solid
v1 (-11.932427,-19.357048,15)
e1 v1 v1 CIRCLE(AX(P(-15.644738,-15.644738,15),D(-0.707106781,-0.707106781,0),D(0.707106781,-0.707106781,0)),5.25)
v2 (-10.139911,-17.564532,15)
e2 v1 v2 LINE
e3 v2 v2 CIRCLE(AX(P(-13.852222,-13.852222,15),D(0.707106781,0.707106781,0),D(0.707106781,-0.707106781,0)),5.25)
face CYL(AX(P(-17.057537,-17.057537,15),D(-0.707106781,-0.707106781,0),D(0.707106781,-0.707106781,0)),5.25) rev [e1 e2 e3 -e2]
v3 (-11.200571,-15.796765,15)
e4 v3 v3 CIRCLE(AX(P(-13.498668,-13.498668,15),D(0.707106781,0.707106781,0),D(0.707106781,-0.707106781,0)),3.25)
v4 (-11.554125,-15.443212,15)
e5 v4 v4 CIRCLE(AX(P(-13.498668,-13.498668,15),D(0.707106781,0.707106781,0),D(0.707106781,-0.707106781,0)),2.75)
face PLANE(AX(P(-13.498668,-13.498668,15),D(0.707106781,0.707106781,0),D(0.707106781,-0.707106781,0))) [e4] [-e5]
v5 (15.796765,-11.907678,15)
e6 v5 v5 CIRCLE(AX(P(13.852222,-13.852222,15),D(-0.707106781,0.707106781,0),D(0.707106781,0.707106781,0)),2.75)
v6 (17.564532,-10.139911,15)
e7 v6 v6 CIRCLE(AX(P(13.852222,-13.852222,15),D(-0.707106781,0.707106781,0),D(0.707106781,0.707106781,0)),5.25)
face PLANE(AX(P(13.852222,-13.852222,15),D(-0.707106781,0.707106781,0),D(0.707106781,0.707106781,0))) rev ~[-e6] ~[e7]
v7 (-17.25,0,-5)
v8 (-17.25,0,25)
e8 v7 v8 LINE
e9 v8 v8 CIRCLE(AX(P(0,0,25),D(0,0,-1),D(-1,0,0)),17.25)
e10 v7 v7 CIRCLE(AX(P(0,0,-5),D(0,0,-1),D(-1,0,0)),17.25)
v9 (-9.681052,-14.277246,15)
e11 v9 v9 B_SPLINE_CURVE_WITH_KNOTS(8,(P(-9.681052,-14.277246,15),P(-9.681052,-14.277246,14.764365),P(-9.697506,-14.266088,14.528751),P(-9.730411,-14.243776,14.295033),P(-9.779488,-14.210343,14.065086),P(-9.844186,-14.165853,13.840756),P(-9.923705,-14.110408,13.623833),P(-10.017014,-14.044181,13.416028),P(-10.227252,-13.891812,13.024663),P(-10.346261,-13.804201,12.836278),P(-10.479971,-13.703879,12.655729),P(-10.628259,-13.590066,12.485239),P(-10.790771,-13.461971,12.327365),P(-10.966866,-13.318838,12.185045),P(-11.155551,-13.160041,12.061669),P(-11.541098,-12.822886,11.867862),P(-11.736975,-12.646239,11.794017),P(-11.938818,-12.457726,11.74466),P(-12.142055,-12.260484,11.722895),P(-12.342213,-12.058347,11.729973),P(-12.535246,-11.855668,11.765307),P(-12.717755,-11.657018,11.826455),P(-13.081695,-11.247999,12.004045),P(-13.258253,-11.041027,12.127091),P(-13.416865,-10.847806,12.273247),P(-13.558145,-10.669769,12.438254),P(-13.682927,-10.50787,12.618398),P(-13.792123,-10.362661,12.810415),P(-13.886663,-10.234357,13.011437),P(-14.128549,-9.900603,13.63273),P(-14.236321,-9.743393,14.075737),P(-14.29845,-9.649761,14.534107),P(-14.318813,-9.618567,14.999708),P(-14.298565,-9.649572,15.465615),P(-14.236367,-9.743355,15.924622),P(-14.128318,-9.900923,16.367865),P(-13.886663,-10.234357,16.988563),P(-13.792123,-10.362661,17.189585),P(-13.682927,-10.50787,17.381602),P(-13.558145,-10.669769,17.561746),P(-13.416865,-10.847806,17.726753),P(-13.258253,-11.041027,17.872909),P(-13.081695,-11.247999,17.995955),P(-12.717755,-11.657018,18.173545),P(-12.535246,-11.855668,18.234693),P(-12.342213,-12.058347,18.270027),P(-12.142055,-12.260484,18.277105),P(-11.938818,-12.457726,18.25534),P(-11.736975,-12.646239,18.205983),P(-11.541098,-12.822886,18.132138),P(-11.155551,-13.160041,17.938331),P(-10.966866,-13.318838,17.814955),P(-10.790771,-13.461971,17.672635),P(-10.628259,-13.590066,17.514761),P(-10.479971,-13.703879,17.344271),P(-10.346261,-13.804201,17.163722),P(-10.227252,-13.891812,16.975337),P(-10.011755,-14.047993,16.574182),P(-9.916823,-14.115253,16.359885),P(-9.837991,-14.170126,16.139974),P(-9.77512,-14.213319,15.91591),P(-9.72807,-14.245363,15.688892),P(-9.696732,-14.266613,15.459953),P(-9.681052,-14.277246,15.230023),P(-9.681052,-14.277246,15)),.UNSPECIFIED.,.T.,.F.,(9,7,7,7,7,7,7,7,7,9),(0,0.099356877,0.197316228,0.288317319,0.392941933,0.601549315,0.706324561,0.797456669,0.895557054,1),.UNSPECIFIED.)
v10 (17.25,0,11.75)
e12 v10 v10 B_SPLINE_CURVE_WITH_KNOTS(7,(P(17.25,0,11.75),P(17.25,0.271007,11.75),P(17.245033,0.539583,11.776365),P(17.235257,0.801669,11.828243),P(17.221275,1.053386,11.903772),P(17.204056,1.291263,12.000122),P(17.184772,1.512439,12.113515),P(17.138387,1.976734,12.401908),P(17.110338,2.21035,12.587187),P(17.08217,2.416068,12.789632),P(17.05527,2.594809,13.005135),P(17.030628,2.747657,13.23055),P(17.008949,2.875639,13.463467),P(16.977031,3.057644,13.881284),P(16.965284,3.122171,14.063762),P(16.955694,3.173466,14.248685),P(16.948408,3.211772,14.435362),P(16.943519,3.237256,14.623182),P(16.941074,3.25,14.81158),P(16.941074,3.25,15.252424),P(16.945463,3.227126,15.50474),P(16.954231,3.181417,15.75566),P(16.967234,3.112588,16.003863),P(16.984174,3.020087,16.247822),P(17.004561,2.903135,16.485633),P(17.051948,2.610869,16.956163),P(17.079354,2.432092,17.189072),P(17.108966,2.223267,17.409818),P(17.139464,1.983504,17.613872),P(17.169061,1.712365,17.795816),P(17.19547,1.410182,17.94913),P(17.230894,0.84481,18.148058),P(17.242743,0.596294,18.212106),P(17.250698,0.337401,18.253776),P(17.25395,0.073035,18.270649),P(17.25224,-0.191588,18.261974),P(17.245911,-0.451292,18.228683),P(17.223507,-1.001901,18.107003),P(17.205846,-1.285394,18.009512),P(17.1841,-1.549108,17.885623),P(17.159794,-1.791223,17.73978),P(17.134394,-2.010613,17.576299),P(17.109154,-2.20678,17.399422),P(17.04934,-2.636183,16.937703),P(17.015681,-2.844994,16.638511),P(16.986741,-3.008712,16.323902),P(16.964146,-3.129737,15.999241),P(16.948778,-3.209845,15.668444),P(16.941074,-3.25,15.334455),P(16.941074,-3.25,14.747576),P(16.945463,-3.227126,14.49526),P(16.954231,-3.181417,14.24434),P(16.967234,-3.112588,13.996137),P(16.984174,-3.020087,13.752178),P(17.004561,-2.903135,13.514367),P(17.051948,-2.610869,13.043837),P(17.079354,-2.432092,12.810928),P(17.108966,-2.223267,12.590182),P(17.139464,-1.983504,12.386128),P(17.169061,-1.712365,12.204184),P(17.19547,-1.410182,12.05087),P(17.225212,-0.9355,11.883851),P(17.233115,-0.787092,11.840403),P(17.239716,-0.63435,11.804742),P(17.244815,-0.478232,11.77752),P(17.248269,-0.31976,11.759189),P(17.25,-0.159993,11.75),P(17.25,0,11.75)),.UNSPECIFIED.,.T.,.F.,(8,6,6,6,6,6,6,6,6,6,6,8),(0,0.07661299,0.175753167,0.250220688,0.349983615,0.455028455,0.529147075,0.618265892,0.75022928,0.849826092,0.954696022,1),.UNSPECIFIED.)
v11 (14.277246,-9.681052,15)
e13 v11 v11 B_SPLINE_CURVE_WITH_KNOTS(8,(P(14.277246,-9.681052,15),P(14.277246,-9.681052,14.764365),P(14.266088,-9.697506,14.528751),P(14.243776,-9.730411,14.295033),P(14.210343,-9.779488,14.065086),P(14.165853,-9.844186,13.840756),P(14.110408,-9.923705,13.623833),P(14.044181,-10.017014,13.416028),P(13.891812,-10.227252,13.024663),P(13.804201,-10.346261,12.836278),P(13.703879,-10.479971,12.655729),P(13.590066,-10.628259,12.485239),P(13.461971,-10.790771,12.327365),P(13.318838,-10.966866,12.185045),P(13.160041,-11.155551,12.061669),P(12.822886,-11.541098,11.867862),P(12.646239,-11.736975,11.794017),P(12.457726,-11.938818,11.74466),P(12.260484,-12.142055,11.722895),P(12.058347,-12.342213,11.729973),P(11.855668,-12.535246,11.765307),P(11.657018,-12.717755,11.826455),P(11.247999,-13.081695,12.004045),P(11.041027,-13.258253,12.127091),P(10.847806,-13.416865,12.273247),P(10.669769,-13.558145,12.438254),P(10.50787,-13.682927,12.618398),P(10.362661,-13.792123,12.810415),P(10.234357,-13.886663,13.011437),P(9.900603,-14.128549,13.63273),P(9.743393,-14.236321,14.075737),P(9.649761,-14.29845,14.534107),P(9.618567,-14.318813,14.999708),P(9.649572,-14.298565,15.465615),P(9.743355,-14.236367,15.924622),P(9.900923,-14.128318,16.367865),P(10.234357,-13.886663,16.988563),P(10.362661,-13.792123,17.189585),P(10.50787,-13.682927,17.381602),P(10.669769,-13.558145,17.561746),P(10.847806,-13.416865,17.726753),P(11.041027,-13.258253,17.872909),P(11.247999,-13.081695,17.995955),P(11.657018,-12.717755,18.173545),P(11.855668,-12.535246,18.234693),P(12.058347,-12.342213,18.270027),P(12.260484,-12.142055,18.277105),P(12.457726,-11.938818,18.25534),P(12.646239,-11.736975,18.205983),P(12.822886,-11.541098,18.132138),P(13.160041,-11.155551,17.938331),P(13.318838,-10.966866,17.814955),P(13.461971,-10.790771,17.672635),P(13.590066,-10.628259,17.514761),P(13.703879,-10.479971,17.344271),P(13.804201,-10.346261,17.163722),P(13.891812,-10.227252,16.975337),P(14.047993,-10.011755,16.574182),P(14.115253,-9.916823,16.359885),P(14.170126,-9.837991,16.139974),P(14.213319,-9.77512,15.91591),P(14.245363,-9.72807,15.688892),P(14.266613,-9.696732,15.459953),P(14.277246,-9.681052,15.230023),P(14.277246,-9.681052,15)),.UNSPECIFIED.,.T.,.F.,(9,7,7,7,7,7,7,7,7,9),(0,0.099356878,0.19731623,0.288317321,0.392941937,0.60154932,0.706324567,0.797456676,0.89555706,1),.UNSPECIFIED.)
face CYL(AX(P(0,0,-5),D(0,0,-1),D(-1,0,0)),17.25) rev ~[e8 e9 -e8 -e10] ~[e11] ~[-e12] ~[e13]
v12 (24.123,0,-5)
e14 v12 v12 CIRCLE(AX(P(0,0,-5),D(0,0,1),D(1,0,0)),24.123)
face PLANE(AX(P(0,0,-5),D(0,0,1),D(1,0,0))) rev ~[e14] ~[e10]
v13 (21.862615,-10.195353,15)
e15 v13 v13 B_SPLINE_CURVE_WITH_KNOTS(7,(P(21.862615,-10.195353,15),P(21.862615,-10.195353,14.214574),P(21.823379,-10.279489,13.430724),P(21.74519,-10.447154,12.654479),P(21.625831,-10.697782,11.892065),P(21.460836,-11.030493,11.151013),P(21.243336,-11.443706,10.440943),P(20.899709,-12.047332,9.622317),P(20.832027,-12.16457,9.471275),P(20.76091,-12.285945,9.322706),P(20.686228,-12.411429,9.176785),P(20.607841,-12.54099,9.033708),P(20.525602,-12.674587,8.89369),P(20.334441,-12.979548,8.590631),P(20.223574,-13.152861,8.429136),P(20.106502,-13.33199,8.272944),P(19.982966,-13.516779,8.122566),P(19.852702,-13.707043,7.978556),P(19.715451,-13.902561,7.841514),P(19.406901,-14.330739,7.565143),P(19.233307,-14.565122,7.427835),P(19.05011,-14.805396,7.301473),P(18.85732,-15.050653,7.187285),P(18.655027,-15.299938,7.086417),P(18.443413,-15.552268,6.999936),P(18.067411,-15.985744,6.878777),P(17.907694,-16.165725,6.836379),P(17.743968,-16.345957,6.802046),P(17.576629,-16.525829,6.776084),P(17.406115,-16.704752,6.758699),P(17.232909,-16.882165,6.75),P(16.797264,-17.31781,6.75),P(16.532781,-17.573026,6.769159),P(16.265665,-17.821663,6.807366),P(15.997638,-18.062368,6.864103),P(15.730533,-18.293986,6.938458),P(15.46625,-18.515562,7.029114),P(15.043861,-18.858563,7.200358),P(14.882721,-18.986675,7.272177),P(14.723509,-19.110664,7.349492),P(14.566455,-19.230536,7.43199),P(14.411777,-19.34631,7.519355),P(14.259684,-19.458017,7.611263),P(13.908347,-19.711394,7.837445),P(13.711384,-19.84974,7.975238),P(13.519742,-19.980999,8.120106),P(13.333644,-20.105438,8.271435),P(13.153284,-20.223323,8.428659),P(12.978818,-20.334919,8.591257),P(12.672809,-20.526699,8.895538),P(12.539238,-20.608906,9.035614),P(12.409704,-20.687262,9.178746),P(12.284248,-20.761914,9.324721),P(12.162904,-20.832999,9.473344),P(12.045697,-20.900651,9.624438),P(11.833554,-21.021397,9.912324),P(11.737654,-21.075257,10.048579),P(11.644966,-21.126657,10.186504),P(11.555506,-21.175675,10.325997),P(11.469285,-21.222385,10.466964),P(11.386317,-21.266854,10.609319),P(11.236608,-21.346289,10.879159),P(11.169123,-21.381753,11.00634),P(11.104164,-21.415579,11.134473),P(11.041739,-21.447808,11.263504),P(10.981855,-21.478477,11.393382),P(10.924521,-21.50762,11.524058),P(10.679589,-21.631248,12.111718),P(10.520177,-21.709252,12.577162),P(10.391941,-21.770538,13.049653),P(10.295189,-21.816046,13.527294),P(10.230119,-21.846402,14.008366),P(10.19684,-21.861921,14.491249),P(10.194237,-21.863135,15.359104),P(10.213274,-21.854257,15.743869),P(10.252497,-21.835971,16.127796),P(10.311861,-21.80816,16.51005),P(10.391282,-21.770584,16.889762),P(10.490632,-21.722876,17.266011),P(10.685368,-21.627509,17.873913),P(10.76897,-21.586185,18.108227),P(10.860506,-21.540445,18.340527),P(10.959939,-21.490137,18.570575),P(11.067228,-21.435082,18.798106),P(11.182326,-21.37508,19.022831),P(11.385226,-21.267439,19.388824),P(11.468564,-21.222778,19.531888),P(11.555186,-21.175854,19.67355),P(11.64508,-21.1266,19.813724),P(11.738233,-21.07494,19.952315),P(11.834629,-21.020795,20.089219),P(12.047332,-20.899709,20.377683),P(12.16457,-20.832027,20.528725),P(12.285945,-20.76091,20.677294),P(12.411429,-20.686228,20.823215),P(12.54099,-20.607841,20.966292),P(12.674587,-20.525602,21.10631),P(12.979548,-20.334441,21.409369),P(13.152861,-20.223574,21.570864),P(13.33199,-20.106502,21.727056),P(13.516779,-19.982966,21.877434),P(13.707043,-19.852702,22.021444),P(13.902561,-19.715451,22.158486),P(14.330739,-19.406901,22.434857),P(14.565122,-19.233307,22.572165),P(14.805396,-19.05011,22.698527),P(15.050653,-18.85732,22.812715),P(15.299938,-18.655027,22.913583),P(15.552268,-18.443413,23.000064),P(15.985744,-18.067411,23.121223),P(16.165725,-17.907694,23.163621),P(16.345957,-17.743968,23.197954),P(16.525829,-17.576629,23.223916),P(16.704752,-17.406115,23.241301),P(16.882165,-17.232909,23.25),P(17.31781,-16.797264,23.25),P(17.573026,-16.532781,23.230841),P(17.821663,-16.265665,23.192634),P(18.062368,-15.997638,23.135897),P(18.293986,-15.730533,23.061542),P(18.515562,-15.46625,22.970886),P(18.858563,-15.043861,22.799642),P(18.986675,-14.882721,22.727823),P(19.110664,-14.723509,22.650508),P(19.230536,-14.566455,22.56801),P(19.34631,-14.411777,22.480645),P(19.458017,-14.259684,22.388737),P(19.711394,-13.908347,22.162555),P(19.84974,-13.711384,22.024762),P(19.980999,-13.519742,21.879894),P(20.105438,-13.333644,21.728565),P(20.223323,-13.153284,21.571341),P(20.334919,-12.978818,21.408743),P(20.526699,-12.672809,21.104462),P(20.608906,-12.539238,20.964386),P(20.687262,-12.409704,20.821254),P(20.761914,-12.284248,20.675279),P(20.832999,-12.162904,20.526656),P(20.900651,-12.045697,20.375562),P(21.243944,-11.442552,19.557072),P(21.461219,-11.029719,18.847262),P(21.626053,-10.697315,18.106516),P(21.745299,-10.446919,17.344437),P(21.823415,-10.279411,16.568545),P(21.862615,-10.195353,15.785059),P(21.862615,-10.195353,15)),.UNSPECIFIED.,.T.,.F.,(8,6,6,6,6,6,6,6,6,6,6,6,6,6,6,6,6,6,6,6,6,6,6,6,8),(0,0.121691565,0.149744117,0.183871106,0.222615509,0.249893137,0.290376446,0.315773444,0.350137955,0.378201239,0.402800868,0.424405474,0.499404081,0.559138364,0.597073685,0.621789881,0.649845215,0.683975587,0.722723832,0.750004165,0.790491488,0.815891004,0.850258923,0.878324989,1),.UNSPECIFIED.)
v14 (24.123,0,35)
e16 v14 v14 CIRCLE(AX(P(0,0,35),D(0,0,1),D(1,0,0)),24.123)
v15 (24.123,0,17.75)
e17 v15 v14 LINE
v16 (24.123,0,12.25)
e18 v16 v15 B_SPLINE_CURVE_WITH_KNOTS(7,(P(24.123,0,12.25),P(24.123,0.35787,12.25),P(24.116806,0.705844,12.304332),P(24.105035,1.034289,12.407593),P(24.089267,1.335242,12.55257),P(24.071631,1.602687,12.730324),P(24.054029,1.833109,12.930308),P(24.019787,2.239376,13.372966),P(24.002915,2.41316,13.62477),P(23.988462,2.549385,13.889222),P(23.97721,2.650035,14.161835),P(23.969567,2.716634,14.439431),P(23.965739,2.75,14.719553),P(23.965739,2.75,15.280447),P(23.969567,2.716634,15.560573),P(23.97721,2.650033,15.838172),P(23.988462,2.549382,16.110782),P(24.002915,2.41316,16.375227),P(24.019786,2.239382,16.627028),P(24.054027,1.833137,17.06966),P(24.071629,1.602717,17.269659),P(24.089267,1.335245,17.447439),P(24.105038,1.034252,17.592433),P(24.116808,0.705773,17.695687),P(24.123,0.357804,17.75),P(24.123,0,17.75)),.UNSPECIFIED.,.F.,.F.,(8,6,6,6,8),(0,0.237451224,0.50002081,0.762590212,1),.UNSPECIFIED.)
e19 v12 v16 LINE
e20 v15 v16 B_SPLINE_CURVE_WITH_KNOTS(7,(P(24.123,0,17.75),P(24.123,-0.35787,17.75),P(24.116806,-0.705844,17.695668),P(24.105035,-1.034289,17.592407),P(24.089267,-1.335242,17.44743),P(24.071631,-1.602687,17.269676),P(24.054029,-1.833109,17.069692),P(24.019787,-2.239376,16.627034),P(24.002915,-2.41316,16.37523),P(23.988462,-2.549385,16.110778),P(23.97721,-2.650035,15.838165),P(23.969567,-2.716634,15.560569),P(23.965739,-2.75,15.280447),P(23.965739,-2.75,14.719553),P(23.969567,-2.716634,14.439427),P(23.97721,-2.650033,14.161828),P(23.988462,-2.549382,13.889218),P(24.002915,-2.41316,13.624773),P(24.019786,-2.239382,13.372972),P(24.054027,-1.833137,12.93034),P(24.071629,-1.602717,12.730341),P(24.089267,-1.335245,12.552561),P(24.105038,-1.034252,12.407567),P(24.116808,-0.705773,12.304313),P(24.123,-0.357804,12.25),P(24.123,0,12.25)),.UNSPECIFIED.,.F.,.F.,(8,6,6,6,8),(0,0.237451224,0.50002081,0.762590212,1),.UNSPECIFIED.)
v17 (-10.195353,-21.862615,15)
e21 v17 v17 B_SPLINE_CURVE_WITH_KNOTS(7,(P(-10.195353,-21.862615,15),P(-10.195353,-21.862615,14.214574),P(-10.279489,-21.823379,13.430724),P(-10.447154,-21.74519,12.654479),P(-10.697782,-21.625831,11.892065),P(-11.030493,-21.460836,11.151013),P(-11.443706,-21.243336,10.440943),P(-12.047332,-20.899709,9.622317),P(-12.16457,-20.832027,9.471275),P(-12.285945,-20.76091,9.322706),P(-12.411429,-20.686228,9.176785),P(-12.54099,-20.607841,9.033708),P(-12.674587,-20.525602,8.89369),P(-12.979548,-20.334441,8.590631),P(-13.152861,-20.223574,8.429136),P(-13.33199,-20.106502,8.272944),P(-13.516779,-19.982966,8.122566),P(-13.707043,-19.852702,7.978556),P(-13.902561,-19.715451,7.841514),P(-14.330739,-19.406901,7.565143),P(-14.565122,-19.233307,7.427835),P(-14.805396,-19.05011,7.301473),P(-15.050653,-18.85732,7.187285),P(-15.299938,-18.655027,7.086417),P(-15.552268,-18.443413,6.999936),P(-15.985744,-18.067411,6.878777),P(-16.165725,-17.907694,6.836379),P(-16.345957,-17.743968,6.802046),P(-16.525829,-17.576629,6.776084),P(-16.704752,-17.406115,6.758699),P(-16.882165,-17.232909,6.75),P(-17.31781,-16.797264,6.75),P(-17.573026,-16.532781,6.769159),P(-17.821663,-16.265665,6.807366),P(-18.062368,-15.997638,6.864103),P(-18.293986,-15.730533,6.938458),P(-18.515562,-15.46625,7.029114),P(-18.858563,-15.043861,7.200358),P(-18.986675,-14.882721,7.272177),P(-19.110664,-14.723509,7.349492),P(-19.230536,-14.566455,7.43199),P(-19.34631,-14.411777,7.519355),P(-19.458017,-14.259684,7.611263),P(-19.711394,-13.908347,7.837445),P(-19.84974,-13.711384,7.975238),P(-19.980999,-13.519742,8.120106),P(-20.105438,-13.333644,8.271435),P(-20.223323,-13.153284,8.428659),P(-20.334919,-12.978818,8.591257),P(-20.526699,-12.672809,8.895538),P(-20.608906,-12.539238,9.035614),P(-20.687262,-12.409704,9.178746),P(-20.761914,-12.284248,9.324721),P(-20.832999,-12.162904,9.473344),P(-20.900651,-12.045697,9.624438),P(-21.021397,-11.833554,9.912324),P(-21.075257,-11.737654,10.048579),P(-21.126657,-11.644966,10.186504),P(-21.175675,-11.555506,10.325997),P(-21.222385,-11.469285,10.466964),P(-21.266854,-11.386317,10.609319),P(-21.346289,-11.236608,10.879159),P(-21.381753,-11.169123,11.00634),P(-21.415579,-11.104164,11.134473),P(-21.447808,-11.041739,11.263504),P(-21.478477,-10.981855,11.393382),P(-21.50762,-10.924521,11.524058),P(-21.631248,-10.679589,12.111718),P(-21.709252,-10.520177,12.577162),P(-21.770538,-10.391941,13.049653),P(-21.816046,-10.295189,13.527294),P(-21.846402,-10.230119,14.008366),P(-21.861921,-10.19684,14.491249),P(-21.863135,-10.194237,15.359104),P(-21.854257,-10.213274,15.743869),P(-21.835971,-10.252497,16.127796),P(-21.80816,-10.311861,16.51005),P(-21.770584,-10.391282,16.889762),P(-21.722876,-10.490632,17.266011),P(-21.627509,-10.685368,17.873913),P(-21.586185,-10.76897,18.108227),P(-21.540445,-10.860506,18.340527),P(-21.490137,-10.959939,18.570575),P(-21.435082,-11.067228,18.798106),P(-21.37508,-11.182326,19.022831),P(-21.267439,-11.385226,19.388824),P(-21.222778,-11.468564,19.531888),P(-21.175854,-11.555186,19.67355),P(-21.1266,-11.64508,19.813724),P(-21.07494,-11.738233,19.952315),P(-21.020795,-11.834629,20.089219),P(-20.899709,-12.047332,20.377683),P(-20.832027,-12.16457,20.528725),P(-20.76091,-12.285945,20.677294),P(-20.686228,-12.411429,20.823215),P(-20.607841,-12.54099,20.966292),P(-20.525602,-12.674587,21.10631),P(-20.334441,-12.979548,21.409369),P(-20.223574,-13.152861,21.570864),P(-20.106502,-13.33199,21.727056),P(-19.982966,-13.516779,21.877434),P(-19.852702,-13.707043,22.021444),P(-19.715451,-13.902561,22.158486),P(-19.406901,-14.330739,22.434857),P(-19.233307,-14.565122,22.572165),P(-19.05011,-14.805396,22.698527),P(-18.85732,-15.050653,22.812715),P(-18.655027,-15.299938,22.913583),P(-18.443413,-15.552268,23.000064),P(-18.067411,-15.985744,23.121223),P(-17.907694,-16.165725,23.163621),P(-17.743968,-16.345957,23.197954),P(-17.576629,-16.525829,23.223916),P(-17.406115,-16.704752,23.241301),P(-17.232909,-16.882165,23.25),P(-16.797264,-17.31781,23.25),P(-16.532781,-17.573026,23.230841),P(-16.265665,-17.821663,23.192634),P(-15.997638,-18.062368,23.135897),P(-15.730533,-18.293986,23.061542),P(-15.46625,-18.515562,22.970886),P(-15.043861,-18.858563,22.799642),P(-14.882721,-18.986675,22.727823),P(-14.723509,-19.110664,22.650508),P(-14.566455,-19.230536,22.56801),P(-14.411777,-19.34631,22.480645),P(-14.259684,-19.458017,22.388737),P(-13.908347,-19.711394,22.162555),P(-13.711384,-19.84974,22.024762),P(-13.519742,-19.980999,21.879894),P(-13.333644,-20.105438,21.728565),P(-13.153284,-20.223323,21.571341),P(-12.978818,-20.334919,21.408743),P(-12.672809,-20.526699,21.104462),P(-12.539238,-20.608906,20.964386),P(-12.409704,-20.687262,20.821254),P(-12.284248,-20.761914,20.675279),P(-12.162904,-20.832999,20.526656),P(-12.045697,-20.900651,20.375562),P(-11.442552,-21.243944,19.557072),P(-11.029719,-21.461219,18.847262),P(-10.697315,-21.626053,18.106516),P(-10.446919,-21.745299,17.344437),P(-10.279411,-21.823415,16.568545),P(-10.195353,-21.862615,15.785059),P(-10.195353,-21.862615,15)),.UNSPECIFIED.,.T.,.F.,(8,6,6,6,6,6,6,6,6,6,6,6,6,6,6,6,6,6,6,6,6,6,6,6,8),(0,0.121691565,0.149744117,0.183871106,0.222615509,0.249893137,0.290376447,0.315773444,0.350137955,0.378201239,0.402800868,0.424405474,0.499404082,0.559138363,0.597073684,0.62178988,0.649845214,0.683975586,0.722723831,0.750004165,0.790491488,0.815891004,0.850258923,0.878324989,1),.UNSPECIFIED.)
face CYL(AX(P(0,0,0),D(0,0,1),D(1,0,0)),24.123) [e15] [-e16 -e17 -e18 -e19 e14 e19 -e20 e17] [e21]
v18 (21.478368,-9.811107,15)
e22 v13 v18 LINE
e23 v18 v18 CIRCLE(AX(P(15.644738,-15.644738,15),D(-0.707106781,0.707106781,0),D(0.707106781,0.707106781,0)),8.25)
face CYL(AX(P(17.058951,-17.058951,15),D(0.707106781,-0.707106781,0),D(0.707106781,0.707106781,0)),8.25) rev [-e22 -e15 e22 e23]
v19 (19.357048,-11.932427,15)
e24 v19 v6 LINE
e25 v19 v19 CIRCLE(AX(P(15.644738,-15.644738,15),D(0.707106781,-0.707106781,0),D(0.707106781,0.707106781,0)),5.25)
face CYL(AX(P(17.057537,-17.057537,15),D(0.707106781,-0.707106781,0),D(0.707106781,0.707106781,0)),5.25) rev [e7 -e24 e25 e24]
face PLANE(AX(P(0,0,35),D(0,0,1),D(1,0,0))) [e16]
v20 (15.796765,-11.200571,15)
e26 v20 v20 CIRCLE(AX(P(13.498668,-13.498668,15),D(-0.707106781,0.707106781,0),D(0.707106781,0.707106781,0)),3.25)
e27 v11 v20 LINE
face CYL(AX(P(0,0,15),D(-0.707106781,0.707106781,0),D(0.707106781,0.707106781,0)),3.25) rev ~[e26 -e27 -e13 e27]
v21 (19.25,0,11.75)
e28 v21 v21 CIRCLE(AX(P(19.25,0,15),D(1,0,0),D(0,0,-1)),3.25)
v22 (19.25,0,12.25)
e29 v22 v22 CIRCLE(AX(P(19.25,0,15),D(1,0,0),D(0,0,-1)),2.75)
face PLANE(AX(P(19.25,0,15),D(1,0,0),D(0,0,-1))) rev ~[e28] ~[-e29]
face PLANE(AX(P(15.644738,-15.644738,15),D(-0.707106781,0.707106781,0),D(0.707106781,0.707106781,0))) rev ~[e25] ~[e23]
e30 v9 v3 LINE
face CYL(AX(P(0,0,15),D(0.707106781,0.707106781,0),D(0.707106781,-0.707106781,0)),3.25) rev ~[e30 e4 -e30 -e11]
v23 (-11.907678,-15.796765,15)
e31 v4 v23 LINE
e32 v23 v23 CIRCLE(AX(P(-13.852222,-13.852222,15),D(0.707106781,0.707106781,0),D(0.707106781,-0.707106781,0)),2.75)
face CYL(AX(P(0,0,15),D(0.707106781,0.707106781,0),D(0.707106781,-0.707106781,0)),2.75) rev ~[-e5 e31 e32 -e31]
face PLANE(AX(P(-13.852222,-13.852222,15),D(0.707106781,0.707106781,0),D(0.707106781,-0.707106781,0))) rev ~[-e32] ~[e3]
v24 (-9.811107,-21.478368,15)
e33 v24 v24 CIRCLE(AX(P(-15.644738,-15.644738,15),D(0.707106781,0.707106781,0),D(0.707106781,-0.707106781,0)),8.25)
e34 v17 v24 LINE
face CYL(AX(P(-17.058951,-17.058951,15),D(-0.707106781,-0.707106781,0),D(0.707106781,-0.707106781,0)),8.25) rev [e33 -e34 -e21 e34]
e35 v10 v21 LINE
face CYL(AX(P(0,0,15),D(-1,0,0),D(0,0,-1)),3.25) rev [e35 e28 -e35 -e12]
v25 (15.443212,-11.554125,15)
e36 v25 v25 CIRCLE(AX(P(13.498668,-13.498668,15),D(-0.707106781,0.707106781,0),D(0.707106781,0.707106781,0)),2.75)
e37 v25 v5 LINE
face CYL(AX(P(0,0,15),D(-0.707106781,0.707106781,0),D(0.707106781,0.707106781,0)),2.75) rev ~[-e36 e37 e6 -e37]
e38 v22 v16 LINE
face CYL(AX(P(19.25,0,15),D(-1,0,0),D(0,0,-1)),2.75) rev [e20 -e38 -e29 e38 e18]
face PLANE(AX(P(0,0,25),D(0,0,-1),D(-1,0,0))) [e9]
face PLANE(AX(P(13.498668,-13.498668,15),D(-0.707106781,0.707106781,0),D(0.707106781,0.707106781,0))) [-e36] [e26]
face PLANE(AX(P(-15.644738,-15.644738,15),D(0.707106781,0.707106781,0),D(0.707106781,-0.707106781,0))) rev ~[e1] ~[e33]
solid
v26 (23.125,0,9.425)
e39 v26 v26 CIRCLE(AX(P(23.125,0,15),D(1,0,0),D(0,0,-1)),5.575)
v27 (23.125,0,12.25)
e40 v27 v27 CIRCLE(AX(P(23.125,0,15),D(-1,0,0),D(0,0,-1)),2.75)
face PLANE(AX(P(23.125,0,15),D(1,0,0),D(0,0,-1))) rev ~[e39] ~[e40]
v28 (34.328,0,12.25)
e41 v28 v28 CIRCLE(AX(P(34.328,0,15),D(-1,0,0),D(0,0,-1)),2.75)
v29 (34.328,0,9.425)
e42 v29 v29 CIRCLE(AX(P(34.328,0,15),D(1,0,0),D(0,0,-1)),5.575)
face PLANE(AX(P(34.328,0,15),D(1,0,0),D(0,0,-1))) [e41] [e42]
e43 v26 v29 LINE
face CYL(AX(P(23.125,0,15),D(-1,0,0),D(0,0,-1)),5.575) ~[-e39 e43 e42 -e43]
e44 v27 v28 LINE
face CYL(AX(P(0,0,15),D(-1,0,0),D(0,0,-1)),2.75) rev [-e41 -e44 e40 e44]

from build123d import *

# Parameters (mm, degrees)
SKETCH1_R                = 24.123
BOSS_EXTRUDE1_DEPTH      = 35
BOSS_EXTRUDE1_DEPTH_BACK = 5
SKETCH2_R                = 3.25
CUT_EXTRUDE2_DEPTH       = 19.25
SKETCH7_R                = 17.25
CUT_EXTRUDE10_DEPTH      = 30
CUT_EXTRUDE11_START      = 19.25
SKETCH8_R                = 2.75
CUT_EXTRUDE11_DEPTH      = 24.873
BOSS_EXTRUDE2_START      = 23.125
SKETCH9_R                = 5.575
BOSS_EXTRUDE2_DEPTH      = 11.203
CUT_EXTRUDE12_DEPTH      = 50
SKETCH4_R                = 2.75
CUT_EXTRUDE3_DEPTH       = 200
CUT_EXTRUDE9_START       = -24.123
SKETCH6_R                = 5.25
CUT_EXTRUDE9_DEPTH       = 4.533
CUT_EXTRUDE14_START      = -24.125
SKETCH12_R               = 8.25
CUT_EXTRUDE14_DEPTH      = 2
SKETCH13_R               = 3.25
CUT_EXTRUDE15_DEPTH      = 19.09
CIRPATTERN3_COUNT        = 2
CIRPATTERN3_ANGLE        = 90


with BuildPart() as part:
    # Sketch1 → Boss-Extrude1 (new body, two sides)
    with BuildSketch(Plane.XY) as boss_extrude1_sk:
        Circle(SKETCH1_R)
    extrude(amount=BOSS_EXTRUDE1_DEPTH)
    extrude(boss_extrude1_sk.sketch, amount=-BOSS_EXTRUDE1_DEPTH_BACK)

    # Sketch2 → Cut-Extrude2 (cut)
    with BuildSketch(Plane(origin=(0, 0, 0), x_dir=(0, 0, -1), z_dir=(1, 0, 0))):
        with Locations((-15, 0)):
            Circle(SKETCH2_R)
    extrude(amount=CUT_EXTRUDE2_DEPTH, mode=Mode.SUBTRACT)

    # Sketch7 → Cut-Extrude10 (cut)
    with BuildSketch(Plane(origin=(0, 0, -5), x_dir=(-1, 0, 0), z_dir=(0, 0, -1))):
        Circle(SKETCH7_R)
    extrude(amount=-CUT_EXTRUDE10_DEPTH, mode=Mode.SUBTRACT)

    # Sketch8 → Cut-Extrude11 (cut)
    with BuildSketch(Plane(origin=(0, 0, 0), x_dir=(0, 0, -1), z_dir=(1, 0, 0)).offset(CUT_EXTRUDE11_START)):
        with Locations((-15, 0)):
            Circle(SKETCH8_R)
    extrude(amount=CUT_EXTRUDE11_DEPTH, mode=Mode.SUBTRACT)

    # Sketch4 → Cut-Extrude3 (cut)
    with BuildSketch(Plane(origin=(0, 0, 0), x_dir=(0.707106781, 0.707106781, 0), z_dir=(-0.707106781, 0.707106781, 0))):
        with Locations((0, -15)):
            Circle(SKETCH4_R)
    cut_extrude3 = extrude(amount=-CUT_EXTRUDE3_DEPTH, mode=Mode.SUBTRACT)

    # Sketch6 → Cut-Extrude9 (cut)
    with BuildSketch(Plane(origin=(0, 0, 0), x_dir=(0.707106781, 0.707106781, 0), z_dir=(-0.707106781, 0.707106781, 0)).offset(CUT_EXTRUDE9_START)):
        with Locations((0, -15)):
            Circle(SKETCH6_R)
    cut_extrude9 = extrude(amount=CUT_EXTRUDE9_DEPTH, mode=Mode.SUBTRACT)

    # Sketch12 → Cut-Extrude14 (cut)
    with BuildSketch(Plane(origin=(0, 0, 0), x_dir=(0.707106781, 0.707106781, 0), z_dir=(-0.707106781, 0.707106781, 0)).offset(CUT_EXTRUDE14_START)):
        with Locations((0, -15)):
            Circle(SKETCH12_R)
    cut_extrude14 = extrude(amount=CUT_EXTRUDE14_DEPTH, mode=Mode.SUBTRACT)

    # Sketch13 → Cut-Extrude15 (cut)
    with BuildSketch(Plane(origin=(0, 0, 0), x_dir=(0.707106781, 0.707106781, 0), z_dir=(-0.707106781, 0.707106781, 0))):
        with Locations((0, -15)):
            Circle(SKETCH13_R)
    cut_extrude15 = extrude(amount=-CUT_EXTRUDE15_DEPTH, mode=Mode.SUBTRACT)

    # CirPattern3: Cut-Extrude3, Cut-Extrude9, Cut-Extrude14, Cut-Extrude15 ×2 about axis
    cirpattern3_axis = Axis((0, 0, -5), (0, 0, -1))
    for i in range(1, CIRPATTERN3_COUNT):
        add(cut_extrude3.rotate(cirpattern3_axis, i * CIRPATTERN3_ANGLE / (CIRPATTERN3_COUNT - 1)), mode=Mode.SUBTRACT)
        add(cut_extrude9.rotate(cirpattern3_axis, i * CIRPATTERN3_ANGLE / (CIRPATTERN3_COUNT - 1)), mode=Mode.SUBTRACT)
        add(cut_extrude14.rotate(cirpattern3_axis, i * CIRPATTERN3_ANGLE / (CIRPATTERN3_COUNT - 1)), mode=Mode.SUBTRACT)
        add(cut_extrude15.rotate(cirpattern3_axis, i * CIRPATTERN3_ANGLE / (CIRPATTERN3_COUNT - 1)), mode=Mode.SUBTRACT)


with BuildPart() as body_2:
    # Sketch9 → Boss-Extrude2 (new body)
    with BuildSketch(Plane(origin=(0, 0, 0), x_dir=(0, 0, -1), z_dir=(1, 0, 0)).offset(BOSS_EXTRUDE2_START)):
        with Locations((-15, 0)):
            Circle(SKETCH9_R)
    extrude(amount=BOSS_EXTRUDE2_DEPTH)

    # Sketch8 → Cut-Extrude12 (cut)
    with BuildSketch(Plane(origin=(0, 0, 0), x_dir=(0, 0, -1), z_dir=(1, 0, 0))):
        with Locations((-15, 0)):
            Circle(SKETCH8_R)
    extrude(amount=CUT_EXTRUDE12_DEPTH, mode=Mode.SUBTRACT)


solid = Compound([part.part, body_2.part])
